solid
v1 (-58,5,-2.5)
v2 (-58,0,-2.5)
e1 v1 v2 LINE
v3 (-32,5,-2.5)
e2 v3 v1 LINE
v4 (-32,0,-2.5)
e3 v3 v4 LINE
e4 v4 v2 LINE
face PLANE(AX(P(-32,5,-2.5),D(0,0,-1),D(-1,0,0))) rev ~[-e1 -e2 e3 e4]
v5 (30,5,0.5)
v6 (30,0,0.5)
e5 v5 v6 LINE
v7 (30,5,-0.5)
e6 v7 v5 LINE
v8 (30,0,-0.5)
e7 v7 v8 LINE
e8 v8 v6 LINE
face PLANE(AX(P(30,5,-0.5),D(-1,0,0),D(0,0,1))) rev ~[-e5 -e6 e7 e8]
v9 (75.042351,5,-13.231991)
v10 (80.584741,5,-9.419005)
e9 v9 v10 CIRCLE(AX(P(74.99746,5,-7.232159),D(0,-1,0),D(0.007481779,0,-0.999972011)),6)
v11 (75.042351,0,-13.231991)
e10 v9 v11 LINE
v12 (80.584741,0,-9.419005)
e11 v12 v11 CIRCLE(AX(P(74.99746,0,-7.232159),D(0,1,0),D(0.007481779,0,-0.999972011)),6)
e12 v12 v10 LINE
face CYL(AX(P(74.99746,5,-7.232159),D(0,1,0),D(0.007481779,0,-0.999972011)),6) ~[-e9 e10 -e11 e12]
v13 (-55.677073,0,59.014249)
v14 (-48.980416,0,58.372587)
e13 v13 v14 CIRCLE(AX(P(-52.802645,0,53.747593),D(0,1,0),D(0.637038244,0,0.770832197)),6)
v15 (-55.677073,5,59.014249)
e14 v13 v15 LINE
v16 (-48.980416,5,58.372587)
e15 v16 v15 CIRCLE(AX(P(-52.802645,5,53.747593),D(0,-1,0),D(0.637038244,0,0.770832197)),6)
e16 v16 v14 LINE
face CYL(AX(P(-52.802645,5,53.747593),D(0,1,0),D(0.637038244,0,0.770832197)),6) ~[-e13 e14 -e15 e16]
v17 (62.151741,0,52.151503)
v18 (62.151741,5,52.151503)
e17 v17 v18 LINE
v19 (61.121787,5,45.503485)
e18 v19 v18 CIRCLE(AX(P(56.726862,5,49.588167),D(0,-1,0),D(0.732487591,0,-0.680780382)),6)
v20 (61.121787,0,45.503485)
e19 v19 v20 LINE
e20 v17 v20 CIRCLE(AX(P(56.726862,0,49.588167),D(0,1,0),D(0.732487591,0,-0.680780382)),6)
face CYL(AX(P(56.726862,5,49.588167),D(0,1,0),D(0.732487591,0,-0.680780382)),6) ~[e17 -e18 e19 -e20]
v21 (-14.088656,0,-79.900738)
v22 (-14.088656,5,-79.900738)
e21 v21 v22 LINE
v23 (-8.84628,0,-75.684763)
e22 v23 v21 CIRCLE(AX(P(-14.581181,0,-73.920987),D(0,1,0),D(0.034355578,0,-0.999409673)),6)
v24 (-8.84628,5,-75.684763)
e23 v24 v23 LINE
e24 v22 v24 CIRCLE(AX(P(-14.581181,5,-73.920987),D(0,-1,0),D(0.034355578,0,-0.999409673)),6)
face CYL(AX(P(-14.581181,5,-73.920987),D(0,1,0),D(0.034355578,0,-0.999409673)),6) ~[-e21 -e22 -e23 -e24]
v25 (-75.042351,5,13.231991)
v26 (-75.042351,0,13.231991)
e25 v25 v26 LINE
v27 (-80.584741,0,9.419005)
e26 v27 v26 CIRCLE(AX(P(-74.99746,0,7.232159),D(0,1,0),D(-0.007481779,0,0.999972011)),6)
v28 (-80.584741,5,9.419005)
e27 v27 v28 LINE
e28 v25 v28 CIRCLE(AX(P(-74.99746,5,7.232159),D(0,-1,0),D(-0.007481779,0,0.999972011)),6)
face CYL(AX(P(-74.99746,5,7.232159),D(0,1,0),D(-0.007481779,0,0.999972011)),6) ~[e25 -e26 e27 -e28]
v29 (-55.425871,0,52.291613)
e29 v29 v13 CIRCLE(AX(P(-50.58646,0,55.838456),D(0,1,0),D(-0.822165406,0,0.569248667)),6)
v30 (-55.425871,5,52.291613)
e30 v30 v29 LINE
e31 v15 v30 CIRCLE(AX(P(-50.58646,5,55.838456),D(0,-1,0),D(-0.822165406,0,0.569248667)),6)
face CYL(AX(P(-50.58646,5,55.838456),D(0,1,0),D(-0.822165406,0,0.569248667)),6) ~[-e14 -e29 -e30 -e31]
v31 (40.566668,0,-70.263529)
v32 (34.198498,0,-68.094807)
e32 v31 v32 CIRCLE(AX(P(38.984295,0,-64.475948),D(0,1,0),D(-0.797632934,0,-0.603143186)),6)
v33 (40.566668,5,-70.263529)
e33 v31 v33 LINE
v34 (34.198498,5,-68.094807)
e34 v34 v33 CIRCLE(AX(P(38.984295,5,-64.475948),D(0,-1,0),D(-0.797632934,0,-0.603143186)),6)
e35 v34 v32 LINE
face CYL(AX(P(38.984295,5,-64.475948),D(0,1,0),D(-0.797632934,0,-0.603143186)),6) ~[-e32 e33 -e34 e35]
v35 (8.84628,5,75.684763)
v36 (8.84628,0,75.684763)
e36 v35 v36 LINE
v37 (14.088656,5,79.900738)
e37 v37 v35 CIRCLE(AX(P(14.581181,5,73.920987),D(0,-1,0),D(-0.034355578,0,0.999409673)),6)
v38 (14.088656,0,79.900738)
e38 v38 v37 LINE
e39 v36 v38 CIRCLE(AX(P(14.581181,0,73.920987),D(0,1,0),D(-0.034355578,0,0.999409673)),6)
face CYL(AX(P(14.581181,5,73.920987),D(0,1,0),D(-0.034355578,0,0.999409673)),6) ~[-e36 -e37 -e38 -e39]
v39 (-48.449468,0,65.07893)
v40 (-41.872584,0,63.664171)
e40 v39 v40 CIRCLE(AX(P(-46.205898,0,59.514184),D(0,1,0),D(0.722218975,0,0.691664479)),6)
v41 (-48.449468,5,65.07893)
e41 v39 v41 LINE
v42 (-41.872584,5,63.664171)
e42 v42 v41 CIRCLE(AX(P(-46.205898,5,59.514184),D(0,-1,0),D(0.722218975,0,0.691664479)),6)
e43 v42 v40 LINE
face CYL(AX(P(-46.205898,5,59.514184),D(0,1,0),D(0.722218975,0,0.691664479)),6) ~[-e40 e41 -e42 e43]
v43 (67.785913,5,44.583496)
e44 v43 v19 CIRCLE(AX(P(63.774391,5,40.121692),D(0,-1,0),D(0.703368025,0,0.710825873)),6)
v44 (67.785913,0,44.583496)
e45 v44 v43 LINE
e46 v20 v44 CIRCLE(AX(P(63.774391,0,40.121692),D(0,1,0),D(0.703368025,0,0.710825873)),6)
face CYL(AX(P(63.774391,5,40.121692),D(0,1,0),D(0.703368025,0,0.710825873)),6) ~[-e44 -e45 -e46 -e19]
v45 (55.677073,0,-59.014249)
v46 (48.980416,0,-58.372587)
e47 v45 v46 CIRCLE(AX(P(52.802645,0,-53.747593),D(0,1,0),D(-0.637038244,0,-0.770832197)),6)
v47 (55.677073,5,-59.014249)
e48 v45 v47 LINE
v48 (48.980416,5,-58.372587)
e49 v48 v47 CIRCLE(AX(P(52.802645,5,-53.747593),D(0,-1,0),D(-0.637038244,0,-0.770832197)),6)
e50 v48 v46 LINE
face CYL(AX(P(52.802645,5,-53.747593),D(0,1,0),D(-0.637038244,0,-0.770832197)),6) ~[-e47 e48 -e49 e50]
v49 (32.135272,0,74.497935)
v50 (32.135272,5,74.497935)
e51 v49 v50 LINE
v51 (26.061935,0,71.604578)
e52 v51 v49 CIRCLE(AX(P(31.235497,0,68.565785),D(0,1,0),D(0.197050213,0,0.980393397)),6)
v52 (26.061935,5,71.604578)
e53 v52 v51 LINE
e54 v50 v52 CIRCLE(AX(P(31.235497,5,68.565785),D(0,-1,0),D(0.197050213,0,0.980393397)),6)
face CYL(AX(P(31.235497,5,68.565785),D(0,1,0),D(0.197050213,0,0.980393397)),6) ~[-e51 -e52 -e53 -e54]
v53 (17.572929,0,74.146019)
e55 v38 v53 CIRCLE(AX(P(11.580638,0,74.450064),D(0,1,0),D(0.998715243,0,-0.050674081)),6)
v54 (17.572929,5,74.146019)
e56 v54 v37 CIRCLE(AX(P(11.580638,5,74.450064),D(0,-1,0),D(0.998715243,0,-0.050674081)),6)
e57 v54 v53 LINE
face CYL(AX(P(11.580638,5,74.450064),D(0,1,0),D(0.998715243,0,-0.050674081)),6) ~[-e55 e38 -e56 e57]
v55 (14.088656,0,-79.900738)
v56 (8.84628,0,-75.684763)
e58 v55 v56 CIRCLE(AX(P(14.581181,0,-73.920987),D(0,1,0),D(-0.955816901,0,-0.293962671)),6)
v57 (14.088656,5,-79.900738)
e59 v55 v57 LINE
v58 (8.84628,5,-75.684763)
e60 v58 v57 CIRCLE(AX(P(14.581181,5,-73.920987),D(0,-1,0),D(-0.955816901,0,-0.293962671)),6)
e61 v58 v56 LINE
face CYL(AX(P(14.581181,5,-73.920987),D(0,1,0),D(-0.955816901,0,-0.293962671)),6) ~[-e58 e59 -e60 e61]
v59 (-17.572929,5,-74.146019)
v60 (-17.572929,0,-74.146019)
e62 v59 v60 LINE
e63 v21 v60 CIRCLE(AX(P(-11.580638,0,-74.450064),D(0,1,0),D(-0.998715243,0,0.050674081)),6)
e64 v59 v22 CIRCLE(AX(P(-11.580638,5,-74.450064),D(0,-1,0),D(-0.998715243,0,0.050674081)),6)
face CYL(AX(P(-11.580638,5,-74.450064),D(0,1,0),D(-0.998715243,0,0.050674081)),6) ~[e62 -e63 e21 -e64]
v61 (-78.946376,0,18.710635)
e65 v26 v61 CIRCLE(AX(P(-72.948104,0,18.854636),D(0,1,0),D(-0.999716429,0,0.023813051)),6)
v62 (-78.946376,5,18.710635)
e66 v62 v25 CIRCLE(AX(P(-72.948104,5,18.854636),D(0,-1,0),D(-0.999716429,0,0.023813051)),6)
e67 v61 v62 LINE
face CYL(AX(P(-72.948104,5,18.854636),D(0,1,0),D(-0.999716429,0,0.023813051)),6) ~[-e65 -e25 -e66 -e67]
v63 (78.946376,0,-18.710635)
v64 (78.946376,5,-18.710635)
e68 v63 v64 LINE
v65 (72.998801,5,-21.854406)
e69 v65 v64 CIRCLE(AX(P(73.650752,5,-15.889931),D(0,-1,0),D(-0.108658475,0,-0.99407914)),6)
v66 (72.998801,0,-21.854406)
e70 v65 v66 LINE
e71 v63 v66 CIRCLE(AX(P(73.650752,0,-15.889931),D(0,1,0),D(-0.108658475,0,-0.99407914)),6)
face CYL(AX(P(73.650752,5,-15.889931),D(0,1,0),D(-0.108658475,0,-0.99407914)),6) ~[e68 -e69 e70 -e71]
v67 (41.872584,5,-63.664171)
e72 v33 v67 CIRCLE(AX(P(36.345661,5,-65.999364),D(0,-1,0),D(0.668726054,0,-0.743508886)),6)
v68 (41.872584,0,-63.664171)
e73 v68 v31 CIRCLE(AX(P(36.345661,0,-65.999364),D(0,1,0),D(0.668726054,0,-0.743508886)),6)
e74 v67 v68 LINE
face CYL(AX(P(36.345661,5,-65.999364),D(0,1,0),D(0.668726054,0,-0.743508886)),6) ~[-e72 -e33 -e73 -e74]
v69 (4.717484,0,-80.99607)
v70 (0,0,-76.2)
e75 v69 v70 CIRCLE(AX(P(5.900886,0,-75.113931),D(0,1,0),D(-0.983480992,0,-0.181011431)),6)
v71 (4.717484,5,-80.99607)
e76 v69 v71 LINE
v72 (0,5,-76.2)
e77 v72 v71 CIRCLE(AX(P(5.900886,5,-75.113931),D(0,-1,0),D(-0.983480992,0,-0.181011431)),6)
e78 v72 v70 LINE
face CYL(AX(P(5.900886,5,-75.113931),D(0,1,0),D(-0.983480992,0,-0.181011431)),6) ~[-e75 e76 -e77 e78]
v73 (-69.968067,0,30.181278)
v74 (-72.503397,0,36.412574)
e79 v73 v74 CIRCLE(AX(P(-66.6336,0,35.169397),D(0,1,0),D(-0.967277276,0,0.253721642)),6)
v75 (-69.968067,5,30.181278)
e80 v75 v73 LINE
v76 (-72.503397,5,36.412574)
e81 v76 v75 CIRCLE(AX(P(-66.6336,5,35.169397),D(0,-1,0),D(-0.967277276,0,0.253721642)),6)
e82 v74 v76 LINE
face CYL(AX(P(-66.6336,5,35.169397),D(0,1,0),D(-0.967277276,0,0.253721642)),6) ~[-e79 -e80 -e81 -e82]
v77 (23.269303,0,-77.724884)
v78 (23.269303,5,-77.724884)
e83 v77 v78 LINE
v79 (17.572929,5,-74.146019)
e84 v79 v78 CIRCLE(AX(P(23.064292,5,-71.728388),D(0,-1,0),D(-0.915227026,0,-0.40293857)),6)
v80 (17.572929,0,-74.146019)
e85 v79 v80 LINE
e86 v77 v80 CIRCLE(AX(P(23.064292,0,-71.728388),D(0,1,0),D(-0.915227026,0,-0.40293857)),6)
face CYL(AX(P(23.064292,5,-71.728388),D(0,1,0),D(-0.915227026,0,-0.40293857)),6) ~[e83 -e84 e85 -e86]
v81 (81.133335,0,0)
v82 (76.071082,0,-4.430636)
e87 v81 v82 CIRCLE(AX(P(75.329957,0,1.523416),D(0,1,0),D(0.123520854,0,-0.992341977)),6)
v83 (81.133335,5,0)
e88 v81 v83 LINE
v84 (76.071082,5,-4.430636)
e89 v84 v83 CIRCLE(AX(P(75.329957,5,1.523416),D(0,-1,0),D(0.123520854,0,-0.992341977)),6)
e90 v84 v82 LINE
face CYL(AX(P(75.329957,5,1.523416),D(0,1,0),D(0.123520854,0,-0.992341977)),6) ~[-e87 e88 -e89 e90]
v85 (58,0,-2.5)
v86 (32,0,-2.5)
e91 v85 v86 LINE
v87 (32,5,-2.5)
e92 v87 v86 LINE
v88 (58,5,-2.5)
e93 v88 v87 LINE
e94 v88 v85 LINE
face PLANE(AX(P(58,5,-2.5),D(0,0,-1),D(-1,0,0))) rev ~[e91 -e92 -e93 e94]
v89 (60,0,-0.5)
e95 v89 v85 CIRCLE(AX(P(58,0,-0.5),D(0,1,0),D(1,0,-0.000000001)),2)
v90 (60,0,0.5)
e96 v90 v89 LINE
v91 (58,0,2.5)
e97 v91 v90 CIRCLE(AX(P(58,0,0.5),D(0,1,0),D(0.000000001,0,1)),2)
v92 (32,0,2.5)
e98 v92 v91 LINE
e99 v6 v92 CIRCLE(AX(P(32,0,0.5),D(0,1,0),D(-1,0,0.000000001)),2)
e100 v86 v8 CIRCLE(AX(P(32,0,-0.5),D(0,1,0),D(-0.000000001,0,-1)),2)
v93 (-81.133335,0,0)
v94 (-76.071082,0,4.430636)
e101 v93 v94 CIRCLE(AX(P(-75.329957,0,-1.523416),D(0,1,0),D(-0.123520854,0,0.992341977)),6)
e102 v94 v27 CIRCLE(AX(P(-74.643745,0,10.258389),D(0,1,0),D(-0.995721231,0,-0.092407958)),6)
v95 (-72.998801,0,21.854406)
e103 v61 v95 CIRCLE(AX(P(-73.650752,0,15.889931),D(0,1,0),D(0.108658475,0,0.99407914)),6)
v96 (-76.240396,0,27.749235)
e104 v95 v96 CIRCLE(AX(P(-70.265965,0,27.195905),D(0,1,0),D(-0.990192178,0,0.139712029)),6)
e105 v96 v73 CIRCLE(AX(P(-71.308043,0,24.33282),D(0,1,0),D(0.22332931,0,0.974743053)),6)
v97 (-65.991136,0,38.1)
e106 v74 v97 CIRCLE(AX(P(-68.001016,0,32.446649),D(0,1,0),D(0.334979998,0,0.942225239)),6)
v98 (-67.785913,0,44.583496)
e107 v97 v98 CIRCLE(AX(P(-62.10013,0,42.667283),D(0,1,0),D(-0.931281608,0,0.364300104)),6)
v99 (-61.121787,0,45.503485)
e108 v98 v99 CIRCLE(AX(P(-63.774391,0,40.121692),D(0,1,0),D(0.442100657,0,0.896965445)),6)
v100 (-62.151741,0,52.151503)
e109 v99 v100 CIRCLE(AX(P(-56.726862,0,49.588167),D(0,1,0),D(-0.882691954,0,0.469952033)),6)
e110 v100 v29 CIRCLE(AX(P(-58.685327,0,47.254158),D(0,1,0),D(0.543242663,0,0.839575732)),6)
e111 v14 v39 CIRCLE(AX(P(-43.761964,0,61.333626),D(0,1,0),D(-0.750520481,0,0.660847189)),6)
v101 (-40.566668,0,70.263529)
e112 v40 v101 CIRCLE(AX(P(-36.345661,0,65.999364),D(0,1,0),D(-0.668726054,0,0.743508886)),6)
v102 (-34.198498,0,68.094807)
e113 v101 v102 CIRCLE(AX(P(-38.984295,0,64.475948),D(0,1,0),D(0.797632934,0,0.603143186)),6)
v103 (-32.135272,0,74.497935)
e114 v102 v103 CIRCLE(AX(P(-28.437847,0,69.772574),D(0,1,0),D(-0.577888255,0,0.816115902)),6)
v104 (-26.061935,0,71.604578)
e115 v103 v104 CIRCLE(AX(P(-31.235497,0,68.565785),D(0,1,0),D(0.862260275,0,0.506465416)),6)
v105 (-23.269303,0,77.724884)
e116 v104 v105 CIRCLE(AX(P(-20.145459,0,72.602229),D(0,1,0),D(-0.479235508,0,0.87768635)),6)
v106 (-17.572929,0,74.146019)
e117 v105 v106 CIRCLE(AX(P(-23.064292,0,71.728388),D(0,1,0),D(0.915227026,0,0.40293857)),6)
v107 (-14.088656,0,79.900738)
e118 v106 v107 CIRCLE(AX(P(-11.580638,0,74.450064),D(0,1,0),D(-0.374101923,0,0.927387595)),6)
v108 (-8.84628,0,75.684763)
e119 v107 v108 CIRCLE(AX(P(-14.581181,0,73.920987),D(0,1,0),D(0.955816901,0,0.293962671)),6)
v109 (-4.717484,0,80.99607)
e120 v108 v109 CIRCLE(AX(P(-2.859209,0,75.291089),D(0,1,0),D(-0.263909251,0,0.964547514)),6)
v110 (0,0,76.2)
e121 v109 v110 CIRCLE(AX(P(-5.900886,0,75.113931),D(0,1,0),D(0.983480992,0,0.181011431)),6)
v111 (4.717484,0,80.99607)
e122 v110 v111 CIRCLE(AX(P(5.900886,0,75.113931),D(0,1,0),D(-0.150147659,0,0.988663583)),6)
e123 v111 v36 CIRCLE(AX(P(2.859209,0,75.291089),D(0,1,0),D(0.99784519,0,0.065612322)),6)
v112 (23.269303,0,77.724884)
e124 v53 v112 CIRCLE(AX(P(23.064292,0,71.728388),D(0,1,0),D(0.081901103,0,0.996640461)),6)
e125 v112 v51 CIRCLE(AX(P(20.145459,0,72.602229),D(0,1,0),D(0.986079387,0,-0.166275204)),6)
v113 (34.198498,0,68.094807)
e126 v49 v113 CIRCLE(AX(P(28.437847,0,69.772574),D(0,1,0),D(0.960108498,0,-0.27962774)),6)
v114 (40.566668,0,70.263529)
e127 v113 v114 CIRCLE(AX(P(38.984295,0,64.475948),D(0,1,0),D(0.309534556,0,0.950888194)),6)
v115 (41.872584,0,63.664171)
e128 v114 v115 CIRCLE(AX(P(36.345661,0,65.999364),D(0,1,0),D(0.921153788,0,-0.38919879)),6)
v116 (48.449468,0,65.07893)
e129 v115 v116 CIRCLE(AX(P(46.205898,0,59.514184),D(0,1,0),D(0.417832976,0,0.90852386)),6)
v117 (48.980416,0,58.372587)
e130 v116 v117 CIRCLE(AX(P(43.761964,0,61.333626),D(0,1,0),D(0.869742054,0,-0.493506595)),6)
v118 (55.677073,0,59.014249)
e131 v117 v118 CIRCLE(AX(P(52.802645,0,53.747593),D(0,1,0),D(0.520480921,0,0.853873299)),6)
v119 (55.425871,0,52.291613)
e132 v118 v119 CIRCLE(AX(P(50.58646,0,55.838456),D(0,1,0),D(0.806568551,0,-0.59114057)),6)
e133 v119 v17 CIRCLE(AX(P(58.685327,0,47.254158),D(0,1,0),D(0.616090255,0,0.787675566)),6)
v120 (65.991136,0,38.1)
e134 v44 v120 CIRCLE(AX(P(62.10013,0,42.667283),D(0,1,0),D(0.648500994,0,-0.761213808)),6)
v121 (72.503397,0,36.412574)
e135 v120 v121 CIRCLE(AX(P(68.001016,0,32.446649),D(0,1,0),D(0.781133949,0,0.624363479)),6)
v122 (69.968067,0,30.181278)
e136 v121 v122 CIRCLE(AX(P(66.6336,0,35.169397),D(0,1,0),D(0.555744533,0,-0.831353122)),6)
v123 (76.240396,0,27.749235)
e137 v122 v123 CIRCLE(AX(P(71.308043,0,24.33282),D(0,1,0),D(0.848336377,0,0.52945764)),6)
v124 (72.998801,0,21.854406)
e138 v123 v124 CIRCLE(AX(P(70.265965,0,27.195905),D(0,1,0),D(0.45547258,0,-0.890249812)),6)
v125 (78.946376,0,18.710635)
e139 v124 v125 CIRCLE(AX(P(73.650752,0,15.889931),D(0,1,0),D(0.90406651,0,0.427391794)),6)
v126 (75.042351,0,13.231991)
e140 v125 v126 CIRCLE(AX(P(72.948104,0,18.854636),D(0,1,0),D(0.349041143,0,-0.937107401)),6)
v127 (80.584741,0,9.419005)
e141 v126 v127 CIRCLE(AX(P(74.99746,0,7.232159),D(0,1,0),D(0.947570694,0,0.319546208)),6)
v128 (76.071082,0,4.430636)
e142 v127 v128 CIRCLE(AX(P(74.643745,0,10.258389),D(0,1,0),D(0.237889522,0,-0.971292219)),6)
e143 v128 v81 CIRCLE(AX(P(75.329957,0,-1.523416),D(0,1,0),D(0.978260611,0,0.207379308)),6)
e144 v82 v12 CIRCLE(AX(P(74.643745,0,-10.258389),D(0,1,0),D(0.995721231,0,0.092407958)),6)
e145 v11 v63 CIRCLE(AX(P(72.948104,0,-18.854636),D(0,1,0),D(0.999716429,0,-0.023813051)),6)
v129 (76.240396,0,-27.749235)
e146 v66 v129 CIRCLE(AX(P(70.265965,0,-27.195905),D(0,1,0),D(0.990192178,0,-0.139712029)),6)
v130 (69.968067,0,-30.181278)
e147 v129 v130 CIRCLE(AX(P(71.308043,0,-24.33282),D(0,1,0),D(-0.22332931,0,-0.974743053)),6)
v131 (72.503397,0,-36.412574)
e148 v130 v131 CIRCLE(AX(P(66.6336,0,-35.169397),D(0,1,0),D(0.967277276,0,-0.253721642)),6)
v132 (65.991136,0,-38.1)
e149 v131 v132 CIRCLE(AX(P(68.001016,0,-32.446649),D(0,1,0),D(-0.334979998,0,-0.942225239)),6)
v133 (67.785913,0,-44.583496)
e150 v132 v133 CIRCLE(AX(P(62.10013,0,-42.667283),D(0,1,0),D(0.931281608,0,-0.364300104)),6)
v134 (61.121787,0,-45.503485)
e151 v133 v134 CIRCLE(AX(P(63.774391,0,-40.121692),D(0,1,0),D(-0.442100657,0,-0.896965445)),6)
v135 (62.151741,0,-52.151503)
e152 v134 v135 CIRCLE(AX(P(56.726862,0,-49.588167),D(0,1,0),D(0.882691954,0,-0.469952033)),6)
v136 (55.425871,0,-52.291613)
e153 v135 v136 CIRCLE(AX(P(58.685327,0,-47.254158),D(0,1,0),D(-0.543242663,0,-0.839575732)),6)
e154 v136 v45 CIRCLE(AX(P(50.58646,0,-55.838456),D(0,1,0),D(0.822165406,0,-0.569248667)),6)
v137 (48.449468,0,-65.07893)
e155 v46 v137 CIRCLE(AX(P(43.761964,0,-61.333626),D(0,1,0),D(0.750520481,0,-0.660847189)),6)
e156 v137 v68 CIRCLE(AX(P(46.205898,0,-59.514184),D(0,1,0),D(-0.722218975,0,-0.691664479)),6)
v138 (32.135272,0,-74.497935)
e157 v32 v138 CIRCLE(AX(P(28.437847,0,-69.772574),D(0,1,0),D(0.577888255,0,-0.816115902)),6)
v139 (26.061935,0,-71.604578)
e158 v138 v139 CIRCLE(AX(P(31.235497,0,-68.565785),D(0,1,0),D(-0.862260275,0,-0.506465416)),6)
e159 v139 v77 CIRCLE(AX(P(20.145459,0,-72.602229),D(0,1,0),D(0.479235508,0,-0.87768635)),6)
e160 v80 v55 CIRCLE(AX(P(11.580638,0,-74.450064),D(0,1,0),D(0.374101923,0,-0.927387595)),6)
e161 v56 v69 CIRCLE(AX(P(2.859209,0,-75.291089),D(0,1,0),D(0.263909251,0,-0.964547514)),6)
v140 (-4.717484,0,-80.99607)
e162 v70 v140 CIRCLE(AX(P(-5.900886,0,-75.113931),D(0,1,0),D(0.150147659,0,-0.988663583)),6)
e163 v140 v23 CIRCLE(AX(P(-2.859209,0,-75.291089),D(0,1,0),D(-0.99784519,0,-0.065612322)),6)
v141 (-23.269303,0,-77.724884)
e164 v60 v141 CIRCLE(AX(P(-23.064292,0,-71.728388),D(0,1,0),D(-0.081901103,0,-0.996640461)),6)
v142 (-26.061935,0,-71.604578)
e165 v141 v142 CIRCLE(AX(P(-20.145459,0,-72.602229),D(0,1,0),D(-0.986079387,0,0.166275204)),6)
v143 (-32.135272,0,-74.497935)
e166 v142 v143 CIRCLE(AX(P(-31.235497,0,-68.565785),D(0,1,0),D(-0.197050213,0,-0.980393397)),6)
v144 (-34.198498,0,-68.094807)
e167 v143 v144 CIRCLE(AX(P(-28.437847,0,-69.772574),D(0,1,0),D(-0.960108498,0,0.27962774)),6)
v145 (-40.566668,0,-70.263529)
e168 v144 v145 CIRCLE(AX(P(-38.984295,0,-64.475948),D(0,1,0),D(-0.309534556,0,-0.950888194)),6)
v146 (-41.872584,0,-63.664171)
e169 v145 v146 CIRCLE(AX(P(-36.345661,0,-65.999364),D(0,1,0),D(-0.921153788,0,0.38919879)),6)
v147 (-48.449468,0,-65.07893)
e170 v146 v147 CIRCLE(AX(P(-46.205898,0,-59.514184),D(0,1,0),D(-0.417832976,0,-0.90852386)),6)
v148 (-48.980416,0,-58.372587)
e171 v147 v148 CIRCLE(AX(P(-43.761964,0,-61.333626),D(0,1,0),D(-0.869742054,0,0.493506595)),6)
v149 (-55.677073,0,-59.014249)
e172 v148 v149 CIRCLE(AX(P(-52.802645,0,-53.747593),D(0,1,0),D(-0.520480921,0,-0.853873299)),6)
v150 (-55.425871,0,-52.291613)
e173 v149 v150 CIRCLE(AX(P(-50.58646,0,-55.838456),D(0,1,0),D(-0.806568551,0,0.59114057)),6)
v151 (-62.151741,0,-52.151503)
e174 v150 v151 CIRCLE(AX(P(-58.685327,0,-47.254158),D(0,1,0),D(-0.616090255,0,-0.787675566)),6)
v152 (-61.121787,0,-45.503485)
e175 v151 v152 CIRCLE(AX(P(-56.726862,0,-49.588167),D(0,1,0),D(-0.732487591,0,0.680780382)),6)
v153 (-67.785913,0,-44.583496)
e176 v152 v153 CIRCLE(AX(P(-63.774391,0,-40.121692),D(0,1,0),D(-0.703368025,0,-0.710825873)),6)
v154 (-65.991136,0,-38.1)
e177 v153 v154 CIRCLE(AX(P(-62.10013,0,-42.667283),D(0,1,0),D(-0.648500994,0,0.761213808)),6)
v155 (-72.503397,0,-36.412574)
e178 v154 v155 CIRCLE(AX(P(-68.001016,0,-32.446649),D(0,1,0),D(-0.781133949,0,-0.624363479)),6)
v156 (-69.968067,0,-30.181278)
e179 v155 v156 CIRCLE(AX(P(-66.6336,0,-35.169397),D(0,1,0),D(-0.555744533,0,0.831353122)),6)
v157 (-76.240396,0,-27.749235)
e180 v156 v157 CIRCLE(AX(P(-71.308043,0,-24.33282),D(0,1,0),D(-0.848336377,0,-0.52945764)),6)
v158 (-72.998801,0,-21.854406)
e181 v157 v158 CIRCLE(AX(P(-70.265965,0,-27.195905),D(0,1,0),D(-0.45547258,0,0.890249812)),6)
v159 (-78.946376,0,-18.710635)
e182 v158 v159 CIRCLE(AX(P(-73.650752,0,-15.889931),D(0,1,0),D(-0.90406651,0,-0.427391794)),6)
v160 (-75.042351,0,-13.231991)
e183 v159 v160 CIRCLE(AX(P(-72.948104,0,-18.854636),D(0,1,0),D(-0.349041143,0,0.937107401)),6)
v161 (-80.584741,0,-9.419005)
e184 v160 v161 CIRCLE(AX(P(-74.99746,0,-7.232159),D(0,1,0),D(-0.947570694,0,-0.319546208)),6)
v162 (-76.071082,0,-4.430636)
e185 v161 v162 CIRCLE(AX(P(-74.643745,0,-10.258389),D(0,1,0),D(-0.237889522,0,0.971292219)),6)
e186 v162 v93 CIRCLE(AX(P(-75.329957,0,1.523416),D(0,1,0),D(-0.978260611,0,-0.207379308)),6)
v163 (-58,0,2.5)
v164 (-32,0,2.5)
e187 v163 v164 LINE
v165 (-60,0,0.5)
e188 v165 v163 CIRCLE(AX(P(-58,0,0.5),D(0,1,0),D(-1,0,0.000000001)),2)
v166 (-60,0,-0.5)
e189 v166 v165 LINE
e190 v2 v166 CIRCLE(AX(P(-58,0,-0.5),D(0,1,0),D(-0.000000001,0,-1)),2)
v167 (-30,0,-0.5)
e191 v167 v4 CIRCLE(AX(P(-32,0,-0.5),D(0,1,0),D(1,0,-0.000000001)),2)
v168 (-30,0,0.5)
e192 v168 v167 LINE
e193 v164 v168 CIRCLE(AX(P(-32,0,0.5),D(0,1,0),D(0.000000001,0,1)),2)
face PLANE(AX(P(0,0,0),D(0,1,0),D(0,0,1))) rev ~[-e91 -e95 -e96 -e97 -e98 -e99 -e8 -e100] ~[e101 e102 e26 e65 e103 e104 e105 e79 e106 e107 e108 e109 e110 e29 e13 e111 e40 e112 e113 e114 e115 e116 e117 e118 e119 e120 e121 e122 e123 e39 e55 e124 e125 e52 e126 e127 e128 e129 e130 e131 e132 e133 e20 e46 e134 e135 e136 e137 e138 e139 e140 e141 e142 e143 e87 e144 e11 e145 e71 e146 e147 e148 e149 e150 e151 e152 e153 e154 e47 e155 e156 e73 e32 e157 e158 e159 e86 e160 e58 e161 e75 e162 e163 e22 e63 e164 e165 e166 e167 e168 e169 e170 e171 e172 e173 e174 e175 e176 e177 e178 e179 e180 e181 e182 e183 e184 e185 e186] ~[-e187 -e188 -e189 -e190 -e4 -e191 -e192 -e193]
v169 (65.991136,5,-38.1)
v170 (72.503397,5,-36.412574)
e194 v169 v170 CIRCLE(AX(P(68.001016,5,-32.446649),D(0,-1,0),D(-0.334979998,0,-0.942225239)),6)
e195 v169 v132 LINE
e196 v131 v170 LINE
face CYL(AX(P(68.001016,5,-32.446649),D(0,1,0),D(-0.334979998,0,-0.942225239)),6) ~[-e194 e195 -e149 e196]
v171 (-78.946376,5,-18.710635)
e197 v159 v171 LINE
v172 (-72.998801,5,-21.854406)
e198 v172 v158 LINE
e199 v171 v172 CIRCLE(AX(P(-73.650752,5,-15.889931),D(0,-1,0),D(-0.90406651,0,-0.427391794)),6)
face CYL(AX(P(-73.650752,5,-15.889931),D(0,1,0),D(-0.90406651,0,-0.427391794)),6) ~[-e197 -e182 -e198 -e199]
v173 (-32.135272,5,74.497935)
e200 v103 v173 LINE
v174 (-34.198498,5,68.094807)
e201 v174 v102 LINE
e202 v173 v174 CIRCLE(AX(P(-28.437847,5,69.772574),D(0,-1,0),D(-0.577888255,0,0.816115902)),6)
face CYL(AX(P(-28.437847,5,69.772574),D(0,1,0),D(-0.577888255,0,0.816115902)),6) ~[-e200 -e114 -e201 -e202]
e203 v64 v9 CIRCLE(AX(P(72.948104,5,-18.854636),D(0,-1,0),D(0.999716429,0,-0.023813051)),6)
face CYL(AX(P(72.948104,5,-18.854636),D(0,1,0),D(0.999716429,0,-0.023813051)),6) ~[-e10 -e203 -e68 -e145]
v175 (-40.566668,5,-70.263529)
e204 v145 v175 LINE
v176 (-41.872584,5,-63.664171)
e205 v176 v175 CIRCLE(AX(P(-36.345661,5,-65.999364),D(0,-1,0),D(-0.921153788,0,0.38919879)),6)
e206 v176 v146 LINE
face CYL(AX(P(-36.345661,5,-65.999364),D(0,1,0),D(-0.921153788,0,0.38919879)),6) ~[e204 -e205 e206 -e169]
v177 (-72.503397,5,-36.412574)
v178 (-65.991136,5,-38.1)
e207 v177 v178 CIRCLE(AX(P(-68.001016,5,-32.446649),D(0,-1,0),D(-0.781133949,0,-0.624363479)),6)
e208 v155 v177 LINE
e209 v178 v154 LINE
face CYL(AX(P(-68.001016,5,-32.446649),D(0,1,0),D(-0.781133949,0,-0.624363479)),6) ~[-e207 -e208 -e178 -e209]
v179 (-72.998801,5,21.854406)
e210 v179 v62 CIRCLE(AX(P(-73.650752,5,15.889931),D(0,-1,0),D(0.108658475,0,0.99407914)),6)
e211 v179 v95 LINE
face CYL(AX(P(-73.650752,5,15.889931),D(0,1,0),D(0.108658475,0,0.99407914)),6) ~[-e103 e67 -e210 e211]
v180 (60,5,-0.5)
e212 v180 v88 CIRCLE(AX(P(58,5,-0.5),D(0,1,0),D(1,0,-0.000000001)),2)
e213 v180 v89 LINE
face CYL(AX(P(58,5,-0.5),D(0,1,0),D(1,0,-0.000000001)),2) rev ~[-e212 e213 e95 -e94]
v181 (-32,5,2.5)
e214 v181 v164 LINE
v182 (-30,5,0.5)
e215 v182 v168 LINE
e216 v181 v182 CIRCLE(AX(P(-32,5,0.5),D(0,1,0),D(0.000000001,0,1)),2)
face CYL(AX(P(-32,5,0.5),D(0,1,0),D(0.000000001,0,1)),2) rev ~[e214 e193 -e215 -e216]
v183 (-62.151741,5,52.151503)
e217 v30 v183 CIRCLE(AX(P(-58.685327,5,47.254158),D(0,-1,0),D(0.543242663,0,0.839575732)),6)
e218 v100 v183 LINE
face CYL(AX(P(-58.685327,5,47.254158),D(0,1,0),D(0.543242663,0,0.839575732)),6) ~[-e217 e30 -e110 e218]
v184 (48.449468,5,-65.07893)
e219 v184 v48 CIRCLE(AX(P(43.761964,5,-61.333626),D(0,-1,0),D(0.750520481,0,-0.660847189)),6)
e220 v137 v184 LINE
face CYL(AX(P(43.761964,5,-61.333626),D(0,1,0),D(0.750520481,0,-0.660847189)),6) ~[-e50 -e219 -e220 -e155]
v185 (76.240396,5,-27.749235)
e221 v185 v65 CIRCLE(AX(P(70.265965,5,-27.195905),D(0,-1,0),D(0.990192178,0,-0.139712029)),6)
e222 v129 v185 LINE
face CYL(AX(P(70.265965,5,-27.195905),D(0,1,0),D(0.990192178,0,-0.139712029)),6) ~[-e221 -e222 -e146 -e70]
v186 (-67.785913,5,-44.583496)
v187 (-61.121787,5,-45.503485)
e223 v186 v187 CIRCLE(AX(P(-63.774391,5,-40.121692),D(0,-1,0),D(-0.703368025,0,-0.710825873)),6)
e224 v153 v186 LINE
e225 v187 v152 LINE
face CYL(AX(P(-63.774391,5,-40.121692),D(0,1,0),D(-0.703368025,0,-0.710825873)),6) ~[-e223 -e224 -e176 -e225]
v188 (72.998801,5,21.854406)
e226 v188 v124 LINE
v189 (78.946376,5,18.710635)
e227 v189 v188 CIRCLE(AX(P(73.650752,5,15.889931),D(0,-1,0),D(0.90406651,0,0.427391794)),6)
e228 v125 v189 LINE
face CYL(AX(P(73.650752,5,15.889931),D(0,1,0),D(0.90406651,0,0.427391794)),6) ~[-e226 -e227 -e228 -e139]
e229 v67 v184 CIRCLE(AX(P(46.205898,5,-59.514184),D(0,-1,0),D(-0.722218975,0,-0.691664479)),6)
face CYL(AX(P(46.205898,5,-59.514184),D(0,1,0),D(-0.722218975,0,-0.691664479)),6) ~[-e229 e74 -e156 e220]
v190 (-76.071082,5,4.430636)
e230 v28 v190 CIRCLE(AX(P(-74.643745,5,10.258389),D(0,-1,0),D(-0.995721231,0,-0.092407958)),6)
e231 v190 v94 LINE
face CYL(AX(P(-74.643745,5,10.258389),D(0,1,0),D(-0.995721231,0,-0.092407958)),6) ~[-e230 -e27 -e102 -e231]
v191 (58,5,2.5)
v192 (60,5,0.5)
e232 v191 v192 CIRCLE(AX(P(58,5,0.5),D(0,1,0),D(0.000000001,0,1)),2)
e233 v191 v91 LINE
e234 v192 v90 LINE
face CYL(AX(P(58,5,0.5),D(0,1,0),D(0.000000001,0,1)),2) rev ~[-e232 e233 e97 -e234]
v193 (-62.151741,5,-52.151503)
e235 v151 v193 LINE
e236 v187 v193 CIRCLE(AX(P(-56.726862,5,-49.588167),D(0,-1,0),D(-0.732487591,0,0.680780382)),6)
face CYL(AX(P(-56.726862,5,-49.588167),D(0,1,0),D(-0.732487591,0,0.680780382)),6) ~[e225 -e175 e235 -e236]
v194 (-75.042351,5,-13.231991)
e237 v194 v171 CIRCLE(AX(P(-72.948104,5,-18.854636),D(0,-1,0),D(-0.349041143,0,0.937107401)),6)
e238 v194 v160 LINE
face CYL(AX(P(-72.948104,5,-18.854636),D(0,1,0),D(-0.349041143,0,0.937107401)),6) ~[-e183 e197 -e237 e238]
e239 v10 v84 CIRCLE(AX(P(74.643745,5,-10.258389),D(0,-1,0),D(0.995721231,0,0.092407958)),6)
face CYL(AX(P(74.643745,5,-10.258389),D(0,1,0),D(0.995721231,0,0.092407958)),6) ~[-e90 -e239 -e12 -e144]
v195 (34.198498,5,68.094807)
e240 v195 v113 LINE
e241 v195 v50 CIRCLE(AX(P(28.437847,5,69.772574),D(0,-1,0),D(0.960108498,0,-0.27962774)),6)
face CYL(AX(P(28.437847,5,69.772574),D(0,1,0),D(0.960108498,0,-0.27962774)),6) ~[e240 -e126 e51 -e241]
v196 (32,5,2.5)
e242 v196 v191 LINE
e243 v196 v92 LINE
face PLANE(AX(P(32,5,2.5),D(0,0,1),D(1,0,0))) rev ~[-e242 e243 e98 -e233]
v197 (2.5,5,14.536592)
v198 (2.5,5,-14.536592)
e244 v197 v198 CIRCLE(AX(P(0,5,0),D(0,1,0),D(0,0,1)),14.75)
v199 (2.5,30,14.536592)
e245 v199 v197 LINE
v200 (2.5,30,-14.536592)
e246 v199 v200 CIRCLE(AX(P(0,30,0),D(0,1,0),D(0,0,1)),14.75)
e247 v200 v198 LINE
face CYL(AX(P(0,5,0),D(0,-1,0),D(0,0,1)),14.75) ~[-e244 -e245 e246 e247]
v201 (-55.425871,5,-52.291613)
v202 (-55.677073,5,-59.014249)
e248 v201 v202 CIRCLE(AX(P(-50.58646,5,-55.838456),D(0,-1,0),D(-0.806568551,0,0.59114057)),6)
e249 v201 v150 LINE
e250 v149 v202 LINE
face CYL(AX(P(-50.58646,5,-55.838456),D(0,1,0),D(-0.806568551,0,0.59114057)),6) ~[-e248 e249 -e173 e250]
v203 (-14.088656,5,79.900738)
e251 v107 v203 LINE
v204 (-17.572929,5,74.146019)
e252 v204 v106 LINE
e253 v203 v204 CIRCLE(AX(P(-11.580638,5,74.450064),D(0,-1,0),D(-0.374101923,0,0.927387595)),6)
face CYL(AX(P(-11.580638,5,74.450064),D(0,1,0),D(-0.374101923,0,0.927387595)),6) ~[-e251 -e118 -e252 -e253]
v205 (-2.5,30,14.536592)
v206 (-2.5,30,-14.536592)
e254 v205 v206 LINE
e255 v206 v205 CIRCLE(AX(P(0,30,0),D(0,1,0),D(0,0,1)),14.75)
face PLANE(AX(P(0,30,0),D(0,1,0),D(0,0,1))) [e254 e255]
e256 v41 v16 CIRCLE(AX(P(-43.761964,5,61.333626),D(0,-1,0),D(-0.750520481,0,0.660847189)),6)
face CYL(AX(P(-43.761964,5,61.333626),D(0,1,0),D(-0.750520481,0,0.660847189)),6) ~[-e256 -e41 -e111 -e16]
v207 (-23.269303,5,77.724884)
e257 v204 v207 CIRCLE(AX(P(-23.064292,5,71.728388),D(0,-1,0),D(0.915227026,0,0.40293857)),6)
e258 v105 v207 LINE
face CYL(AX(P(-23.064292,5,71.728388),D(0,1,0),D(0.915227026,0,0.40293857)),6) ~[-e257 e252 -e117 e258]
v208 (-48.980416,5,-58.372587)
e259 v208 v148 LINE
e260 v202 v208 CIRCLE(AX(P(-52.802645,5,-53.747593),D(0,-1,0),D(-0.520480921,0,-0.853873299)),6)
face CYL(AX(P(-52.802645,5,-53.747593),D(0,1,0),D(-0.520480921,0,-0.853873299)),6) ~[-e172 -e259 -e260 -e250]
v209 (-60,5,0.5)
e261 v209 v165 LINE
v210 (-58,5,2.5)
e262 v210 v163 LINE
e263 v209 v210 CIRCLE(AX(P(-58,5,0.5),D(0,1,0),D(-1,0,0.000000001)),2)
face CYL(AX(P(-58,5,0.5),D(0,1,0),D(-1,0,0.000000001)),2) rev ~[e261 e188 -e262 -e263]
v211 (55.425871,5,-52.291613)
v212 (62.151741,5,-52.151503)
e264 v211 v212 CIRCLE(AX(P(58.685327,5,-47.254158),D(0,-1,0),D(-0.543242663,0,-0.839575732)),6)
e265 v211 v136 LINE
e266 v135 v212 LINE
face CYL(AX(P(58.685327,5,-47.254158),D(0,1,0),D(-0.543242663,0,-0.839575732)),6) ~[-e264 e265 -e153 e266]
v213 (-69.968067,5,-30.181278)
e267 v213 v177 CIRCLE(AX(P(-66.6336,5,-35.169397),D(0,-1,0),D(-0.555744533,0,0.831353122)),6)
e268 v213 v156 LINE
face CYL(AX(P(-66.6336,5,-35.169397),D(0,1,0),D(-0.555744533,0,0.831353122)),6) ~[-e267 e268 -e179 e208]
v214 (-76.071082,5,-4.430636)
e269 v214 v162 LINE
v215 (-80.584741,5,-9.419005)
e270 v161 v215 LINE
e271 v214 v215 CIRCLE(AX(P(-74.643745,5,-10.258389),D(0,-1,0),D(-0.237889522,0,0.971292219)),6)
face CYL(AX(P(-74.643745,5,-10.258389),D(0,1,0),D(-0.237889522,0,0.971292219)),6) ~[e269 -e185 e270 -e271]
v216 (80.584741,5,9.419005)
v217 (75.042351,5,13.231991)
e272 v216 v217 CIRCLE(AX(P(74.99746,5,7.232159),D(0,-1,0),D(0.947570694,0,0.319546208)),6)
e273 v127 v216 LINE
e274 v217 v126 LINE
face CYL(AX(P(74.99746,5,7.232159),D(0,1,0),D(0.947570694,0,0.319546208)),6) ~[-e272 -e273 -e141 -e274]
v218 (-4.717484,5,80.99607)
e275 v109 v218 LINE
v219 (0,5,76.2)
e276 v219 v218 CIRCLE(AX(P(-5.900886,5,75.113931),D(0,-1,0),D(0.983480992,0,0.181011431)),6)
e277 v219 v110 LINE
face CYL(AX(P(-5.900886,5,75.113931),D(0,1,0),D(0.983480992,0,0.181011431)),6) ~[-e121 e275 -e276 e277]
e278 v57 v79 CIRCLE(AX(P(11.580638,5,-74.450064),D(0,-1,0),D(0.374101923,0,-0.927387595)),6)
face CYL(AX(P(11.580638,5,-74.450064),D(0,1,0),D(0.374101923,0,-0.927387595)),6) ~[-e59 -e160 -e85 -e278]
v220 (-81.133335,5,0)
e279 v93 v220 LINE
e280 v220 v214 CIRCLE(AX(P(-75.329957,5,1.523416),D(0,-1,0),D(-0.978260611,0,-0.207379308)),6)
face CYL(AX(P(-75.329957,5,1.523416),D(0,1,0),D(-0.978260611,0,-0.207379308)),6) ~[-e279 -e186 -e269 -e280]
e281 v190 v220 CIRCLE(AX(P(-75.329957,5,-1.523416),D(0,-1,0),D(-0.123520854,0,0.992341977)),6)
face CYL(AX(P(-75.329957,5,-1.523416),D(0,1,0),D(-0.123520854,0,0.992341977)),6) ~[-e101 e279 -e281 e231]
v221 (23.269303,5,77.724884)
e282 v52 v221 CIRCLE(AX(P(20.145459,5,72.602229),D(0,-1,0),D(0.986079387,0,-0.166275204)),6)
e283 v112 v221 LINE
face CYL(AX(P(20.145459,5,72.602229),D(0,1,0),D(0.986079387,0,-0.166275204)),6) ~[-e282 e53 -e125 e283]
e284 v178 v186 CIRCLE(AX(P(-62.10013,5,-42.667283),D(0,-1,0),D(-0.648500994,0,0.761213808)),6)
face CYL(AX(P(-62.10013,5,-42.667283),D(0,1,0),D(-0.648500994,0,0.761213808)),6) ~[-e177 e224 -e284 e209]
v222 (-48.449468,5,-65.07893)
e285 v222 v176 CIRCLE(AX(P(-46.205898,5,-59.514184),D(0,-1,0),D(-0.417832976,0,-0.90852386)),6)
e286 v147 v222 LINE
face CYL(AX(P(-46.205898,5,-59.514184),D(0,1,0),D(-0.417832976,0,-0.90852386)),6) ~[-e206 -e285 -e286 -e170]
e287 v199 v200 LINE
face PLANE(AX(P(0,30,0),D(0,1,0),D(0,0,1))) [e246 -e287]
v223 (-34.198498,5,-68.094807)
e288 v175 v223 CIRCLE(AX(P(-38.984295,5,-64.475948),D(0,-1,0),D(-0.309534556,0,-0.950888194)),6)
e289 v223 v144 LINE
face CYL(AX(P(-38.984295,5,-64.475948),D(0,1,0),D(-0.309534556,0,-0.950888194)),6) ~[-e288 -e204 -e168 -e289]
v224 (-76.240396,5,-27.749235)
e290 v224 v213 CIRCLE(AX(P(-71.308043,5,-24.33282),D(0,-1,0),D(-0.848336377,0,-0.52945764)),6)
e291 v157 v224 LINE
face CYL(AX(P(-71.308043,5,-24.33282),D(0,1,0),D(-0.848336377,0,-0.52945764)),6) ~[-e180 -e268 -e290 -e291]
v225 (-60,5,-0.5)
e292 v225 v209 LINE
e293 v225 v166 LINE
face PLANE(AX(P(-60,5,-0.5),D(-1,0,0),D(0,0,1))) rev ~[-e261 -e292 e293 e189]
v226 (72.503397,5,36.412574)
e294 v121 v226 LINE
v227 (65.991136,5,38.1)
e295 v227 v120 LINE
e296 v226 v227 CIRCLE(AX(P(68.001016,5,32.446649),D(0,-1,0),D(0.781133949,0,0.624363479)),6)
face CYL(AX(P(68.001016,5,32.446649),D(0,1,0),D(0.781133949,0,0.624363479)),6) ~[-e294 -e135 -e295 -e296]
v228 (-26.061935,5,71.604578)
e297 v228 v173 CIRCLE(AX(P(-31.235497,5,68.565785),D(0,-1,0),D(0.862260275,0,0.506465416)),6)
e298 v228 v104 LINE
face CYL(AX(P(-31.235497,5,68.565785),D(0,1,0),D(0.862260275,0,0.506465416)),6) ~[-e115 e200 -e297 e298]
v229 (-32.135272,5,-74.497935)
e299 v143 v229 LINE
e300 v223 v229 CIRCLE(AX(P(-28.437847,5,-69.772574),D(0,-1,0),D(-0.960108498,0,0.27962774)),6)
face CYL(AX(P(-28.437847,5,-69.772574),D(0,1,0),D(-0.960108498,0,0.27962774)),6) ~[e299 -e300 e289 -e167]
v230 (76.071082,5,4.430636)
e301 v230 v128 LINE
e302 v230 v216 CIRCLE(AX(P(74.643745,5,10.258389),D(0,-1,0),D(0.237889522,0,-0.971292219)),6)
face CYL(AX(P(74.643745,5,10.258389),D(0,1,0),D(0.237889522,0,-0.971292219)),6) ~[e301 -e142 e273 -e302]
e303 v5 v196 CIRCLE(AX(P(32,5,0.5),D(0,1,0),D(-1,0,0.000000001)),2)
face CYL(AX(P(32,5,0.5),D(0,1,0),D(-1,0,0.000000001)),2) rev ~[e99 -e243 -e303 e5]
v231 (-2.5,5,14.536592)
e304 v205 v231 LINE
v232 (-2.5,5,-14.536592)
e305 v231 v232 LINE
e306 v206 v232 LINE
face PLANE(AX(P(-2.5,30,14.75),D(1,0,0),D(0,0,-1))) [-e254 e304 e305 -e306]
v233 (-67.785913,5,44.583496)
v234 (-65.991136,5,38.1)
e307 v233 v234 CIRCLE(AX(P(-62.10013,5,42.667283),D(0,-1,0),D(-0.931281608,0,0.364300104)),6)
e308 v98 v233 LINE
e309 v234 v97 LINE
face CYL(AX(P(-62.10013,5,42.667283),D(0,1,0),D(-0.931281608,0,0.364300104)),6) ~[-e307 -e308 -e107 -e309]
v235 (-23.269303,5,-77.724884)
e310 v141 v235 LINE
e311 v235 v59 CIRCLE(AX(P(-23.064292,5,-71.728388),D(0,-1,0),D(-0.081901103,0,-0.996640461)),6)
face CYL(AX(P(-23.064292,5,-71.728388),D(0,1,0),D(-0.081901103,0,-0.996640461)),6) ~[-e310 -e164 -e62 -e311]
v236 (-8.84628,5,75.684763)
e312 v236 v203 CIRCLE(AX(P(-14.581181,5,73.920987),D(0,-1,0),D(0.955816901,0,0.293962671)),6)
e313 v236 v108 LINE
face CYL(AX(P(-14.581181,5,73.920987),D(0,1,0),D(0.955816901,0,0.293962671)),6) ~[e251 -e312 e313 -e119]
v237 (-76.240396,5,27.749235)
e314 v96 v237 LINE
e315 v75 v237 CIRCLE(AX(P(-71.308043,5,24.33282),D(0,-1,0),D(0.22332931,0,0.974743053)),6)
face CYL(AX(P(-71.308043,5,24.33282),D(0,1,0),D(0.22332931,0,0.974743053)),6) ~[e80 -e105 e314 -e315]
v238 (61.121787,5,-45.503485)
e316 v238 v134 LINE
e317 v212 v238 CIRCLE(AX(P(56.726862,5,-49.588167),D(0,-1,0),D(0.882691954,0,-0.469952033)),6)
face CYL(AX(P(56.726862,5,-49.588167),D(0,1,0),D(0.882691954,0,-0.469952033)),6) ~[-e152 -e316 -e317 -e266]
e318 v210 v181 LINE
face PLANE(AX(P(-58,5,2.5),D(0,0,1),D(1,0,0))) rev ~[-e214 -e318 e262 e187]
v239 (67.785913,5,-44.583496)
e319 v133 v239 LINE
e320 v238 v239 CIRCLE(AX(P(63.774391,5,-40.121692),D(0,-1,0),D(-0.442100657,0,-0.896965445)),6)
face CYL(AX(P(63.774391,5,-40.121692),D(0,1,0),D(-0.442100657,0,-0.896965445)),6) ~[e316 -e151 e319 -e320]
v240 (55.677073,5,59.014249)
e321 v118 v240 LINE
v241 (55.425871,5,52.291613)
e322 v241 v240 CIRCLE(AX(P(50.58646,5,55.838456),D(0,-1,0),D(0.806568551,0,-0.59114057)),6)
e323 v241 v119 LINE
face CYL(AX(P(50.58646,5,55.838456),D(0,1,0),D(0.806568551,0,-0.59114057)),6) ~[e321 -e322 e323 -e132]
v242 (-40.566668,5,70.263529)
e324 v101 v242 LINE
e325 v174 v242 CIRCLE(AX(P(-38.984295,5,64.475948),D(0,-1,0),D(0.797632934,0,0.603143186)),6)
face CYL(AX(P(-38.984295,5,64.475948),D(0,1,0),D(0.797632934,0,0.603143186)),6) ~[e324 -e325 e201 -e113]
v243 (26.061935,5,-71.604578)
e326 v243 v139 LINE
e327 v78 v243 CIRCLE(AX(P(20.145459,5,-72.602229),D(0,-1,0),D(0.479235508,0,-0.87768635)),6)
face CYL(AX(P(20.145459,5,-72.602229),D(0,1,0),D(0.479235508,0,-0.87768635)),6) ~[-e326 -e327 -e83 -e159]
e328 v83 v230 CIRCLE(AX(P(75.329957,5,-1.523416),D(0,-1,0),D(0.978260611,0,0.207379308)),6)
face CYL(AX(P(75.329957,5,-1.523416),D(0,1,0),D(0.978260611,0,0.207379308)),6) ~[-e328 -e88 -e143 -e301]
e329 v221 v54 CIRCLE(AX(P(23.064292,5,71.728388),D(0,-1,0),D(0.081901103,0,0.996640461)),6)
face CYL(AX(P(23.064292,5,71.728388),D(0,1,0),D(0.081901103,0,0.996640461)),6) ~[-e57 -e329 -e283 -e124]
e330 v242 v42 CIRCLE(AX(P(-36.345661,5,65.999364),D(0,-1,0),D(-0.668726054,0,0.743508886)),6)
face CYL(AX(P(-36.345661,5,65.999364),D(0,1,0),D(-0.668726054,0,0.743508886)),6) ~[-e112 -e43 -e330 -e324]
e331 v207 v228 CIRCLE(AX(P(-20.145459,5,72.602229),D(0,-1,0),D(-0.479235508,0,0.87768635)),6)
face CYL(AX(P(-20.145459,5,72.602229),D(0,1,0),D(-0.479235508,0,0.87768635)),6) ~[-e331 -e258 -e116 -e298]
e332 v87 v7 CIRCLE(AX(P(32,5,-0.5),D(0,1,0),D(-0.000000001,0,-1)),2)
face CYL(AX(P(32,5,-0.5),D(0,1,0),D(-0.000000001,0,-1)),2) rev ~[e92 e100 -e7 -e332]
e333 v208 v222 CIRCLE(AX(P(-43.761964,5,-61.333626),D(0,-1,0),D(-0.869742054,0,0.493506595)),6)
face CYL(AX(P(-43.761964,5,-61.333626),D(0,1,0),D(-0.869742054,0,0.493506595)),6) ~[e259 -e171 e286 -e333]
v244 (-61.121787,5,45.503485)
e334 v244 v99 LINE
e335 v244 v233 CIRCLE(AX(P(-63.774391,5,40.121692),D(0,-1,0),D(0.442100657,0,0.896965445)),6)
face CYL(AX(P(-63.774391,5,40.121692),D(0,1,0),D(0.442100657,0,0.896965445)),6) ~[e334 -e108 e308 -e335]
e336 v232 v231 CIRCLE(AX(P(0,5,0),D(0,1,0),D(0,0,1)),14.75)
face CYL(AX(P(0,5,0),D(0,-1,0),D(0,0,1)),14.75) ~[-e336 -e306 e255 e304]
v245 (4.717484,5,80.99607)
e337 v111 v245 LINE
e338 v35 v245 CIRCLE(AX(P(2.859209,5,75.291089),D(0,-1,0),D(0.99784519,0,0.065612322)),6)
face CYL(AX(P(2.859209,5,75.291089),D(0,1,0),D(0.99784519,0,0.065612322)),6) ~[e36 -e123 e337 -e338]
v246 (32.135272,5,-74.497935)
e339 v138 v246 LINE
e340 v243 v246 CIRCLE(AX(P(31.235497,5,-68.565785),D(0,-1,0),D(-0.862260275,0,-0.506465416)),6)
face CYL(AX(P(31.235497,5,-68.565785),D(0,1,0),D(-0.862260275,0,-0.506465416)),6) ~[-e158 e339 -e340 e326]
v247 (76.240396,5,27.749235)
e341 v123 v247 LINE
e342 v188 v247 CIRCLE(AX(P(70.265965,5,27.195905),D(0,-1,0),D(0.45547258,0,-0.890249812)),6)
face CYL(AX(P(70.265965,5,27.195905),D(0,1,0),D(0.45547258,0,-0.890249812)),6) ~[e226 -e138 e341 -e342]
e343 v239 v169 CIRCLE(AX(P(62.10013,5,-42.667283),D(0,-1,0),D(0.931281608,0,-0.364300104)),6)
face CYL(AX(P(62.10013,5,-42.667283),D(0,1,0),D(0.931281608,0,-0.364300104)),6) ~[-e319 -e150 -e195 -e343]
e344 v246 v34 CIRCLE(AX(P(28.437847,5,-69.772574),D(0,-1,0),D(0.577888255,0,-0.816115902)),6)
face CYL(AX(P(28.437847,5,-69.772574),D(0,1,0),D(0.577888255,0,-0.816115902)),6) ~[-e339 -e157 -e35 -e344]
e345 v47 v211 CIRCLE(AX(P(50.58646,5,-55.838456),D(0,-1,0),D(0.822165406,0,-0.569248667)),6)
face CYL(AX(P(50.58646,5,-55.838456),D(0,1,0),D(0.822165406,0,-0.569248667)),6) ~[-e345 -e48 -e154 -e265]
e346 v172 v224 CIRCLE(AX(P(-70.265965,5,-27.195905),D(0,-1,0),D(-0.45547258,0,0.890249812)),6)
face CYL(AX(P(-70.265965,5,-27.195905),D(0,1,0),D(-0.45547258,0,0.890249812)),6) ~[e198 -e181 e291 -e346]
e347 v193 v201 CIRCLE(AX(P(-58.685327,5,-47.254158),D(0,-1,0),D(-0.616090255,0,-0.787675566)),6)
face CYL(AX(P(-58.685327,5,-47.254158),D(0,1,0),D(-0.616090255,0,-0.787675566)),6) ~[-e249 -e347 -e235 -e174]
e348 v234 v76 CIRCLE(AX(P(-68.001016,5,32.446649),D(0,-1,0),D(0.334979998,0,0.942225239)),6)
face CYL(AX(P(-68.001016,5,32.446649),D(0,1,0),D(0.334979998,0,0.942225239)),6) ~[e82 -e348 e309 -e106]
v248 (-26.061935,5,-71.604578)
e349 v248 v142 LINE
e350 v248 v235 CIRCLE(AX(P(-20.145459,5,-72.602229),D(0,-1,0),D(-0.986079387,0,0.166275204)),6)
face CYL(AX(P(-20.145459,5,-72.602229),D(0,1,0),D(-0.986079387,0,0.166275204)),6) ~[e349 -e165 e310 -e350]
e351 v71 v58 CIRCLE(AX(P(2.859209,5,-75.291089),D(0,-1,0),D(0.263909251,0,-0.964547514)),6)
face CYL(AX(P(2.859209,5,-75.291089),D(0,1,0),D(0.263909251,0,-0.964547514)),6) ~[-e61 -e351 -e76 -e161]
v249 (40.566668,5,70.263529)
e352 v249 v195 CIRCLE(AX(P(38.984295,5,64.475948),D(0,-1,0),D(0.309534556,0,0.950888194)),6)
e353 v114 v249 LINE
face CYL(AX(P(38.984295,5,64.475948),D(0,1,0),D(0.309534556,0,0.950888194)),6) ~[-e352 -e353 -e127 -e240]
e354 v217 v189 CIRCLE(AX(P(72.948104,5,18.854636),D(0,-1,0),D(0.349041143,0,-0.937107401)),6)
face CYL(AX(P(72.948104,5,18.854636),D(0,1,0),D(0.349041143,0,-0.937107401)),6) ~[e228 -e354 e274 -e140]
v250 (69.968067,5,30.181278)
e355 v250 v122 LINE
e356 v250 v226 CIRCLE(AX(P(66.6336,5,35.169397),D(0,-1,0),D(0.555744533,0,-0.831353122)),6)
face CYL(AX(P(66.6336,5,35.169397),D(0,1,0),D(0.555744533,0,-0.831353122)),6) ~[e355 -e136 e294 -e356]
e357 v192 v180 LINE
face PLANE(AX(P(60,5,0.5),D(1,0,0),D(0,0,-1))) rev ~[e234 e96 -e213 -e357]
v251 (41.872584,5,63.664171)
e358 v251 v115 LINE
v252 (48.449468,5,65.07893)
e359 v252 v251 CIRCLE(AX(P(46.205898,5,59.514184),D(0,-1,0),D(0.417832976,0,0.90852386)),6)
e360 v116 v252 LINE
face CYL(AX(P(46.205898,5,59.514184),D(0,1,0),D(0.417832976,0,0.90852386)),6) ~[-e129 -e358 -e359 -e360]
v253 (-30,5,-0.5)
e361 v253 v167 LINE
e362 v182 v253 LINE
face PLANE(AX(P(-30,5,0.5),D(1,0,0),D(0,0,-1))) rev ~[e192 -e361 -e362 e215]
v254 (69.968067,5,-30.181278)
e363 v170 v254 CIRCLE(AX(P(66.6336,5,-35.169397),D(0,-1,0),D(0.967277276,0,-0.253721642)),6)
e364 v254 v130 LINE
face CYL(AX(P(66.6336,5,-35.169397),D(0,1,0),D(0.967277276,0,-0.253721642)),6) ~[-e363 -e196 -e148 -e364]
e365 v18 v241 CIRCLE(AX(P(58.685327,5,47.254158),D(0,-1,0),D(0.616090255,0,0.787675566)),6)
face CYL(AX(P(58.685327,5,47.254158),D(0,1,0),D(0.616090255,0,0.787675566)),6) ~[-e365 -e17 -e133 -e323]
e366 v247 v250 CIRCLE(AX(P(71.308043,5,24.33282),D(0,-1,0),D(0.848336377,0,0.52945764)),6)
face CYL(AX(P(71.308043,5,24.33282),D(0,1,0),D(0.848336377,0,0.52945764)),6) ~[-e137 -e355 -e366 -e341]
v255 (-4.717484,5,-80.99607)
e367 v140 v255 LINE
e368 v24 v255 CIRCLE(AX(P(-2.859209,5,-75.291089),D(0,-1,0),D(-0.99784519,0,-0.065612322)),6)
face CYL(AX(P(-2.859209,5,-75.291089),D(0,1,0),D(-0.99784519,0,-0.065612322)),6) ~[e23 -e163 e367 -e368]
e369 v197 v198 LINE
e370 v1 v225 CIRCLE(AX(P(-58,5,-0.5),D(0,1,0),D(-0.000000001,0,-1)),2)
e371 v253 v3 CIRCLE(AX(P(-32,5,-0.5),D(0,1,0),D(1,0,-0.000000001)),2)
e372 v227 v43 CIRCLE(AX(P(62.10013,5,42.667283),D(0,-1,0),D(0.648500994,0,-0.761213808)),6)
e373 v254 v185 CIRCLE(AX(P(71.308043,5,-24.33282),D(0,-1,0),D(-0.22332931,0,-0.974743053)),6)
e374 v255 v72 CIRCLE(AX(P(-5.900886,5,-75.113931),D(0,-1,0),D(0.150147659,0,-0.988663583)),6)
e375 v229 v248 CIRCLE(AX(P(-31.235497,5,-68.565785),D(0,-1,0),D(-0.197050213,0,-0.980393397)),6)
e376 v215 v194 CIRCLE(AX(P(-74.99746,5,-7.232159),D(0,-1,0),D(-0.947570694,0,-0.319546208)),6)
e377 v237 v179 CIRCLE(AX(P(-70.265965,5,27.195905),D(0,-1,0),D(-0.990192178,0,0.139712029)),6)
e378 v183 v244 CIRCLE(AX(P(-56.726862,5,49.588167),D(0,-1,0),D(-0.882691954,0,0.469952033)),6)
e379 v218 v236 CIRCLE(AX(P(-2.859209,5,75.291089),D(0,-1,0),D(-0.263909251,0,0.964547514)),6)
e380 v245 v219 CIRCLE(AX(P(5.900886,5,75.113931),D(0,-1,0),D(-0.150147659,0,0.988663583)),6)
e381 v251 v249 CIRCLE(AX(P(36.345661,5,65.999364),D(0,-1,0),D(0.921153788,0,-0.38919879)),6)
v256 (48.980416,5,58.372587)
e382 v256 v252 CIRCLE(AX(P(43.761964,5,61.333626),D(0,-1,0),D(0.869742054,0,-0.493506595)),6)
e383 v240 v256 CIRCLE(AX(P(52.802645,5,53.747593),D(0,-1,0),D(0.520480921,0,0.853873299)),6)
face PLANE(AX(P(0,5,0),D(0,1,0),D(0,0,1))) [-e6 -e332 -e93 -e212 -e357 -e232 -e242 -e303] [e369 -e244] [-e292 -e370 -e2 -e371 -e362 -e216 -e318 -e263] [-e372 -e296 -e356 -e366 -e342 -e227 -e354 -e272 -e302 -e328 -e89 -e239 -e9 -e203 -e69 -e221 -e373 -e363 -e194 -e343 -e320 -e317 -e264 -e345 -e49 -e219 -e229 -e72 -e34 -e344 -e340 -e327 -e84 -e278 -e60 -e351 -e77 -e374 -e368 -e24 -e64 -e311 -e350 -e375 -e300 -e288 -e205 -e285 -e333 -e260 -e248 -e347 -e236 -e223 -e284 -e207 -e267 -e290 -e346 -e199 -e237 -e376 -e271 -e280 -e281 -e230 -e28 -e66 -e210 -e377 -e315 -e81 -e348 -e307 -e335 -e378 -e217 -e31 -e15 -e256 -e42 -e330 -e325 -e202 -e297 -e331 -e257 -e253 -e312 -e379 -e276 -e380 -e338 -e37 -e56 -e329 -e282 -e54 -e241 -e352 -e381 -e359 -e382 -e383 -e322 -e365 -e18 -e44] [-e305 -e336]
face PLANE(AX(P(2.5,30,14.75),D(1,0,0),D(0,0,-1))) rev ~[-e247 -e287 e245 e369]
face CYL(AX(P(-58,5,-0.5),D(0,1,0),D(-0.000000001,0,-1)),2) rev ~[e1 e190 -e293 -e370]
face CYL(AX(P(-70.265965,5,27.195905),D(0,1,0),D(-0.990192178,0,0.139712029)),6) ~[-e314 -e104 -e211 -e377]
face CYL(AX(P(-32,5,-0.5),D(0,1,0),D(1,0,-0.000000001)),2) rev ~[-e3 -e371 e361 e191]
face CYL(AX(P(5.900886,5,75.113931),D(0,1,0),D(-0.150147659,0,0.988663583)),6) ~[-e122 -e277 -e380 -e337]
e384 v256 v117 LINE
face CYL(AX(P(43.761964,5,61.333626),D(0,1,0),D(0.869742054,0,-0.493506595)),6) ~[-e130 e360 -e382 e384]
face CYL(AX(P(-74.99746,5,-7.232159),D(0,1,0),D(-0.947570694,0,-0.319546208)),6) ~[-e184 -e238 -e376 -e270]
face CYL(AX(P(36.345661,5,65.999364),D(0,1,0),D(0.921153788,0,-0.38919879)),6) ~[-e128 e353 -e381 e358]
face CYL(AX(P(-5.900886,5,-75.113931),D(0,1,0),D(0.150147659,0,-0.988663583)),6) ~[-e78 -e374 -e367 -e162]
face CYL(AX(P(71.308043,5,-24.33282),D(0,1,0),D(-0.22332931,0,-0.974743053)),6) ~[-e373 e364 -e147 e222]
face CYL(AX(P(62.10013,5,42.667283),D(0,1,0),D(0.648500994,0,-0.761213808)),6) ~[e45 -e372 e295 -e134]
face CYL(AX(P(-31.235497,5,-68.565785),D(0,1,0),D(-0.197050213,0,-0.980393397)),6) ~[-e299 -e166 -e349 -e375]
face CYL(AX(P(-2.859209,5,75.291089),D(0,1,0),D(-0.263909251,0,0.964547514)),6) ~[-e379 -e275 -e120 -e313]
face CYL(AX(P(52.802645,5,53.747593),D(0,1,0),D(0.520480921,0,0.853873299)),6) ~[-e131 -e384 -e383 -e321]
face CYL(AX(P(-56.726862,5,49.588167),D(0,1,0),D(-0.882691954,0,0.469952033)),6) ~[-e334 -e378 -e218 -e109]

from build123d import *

# Parameters (mm, degrees)
SKETCH1_R           = 81.2
BOSS_EXTRUDE1_DEPTH = 5
SKETCH4_R           = 14.75
BOSS_EXTRUDE2_DEPTH = 25
CUT_EXTRUDE2_DEPTH  = 118.523955005
CIRPATTERN2_COUNT   = 54
CUT_EXTRUDE4_DEPTH  = 118.337042358
SKETCH5_W           = 5
SKETCH5_H           = 29.5
CUT_EXTRUDE3_DEPTH  = 25
LPATTERN1_COUNT     = 2
LPATTERN1_PITCH     = 90


with BuildPart() as part:
    # Sketch1 → Boss-Extrude1 (new body)
    with BuildSketch(Plane(origin=(0, 0, 0), x_dir=(1, 0, 0), z_dir=(0, 1, 0))):
        with Locations(Location((0, 0, 0), (0, 0, 270))):
            Circle(SKETCH1_R)
    extrude(amount=BOSS_EXTRUDE1_DEPTH)

    # Sketch4 → Boss-Extrude2 (add)
    with BuildSketch(Plane(origin=(0, 5, 0), x_dir=(1, 0, 0), z_dir=(0, 1, 0))):
        with Locations(Location((0, 0, 0), (0, 0, 270))):
            Circle(SKETCH4_R)
    extrude(amount=BOSS_EXTRUDE2_DEPTH)

    # Sketch2 → Cut-Extrude2 (cut, through all)
    with BuildSketch(Plane(origin=(0, 5, 0), x_dir=(1, 0, 0), z_dir=(0, 1, 0))):
        with BuildLine():
            ThreePointArc((5, 81.045912914), (0, 81.2), (-5, 81.045912914))
            ThreePointArc((-5, 81.045912914), (-1.725153292, 79.42244122), (0, 76.2))
            ThreePointArc((0, 76.2), (1.725153292, 79.42244122), (5, 81.045912914))
        make_face()
    cut_extrude2 = extrude(amount=-CUT_EXTRUDE2_DEPTH, mode=Mode.SUBTRACT)

    # CirPattern2: Cut-Extrude2 ×54 about axis
    cirpattern2_axis = Axis((0, 0, 0), (0, 1, 0))
    for i in range(1, CIRPATTERN2_COUNT):
        add(cut_extrude2.rotate(cirpattern2_axis, i * 360 / CIRPATTERN2_COUNT), mode=Mode.SUBTRACT)

    # Sketch6 → Cut-Extrude4 (cut, through all)
    with BuildSketch(Plane(origin=(0, 5, 0), x_dir=(1, 0, 0), z_dir=(0, 1, 0))):
        with BuildLine():
            Line((-58, -2.5), (-32, -2.5))
            ThreePointArc((-32, -2.5), (-30.585786438, -1.914213562), (-30, -0.5))
            Line((-30, -0.5), (-30, 0.5))
            ThreePointArc((-30, 0.5), (-30.585786438, 1.914213562), (-32, 2.5))
            Line((-32, 2.5), (-58, 2.5))
            ThreePointArc((-58, 2.5), (-59.414213562, 1.914213562), (-60, 0.5))
            Line((-60, 0.5), (-60, -0.5))
            ThreePointArc((-60, -0.5), (-59.414213562, -1.914213562), (-58, -2.5))
        make_face()
    cut_extrude4 = extrude(amount=-CUT_EXTRUDE4_DEPTH, mode=Mode.SUBTRACT)

    # Sketch5 → Cut-Extrude3 (cut)
    with BuildSketch(Plane(origin=(0, 30, 0), x_dir=(1, 0, 0), z_dir=(0, 1, 0))):
        Rectangle(SKETCH5_W, SKETCH5_H)
    extrude(amount=-CUT_EXTRUDE3_DEPTH, mode=Mode.SUBTRACT)

    # LPattern1: Cut-Extrude4 ×2
    with Locations(*[(i * LPATTERN1_PITCH, 0, 0) for i in range(1, LPATTERN1_COUNT)]):
        add(cut_extrude4, mode=Mode.SUBTRACT)


solid = part.part
